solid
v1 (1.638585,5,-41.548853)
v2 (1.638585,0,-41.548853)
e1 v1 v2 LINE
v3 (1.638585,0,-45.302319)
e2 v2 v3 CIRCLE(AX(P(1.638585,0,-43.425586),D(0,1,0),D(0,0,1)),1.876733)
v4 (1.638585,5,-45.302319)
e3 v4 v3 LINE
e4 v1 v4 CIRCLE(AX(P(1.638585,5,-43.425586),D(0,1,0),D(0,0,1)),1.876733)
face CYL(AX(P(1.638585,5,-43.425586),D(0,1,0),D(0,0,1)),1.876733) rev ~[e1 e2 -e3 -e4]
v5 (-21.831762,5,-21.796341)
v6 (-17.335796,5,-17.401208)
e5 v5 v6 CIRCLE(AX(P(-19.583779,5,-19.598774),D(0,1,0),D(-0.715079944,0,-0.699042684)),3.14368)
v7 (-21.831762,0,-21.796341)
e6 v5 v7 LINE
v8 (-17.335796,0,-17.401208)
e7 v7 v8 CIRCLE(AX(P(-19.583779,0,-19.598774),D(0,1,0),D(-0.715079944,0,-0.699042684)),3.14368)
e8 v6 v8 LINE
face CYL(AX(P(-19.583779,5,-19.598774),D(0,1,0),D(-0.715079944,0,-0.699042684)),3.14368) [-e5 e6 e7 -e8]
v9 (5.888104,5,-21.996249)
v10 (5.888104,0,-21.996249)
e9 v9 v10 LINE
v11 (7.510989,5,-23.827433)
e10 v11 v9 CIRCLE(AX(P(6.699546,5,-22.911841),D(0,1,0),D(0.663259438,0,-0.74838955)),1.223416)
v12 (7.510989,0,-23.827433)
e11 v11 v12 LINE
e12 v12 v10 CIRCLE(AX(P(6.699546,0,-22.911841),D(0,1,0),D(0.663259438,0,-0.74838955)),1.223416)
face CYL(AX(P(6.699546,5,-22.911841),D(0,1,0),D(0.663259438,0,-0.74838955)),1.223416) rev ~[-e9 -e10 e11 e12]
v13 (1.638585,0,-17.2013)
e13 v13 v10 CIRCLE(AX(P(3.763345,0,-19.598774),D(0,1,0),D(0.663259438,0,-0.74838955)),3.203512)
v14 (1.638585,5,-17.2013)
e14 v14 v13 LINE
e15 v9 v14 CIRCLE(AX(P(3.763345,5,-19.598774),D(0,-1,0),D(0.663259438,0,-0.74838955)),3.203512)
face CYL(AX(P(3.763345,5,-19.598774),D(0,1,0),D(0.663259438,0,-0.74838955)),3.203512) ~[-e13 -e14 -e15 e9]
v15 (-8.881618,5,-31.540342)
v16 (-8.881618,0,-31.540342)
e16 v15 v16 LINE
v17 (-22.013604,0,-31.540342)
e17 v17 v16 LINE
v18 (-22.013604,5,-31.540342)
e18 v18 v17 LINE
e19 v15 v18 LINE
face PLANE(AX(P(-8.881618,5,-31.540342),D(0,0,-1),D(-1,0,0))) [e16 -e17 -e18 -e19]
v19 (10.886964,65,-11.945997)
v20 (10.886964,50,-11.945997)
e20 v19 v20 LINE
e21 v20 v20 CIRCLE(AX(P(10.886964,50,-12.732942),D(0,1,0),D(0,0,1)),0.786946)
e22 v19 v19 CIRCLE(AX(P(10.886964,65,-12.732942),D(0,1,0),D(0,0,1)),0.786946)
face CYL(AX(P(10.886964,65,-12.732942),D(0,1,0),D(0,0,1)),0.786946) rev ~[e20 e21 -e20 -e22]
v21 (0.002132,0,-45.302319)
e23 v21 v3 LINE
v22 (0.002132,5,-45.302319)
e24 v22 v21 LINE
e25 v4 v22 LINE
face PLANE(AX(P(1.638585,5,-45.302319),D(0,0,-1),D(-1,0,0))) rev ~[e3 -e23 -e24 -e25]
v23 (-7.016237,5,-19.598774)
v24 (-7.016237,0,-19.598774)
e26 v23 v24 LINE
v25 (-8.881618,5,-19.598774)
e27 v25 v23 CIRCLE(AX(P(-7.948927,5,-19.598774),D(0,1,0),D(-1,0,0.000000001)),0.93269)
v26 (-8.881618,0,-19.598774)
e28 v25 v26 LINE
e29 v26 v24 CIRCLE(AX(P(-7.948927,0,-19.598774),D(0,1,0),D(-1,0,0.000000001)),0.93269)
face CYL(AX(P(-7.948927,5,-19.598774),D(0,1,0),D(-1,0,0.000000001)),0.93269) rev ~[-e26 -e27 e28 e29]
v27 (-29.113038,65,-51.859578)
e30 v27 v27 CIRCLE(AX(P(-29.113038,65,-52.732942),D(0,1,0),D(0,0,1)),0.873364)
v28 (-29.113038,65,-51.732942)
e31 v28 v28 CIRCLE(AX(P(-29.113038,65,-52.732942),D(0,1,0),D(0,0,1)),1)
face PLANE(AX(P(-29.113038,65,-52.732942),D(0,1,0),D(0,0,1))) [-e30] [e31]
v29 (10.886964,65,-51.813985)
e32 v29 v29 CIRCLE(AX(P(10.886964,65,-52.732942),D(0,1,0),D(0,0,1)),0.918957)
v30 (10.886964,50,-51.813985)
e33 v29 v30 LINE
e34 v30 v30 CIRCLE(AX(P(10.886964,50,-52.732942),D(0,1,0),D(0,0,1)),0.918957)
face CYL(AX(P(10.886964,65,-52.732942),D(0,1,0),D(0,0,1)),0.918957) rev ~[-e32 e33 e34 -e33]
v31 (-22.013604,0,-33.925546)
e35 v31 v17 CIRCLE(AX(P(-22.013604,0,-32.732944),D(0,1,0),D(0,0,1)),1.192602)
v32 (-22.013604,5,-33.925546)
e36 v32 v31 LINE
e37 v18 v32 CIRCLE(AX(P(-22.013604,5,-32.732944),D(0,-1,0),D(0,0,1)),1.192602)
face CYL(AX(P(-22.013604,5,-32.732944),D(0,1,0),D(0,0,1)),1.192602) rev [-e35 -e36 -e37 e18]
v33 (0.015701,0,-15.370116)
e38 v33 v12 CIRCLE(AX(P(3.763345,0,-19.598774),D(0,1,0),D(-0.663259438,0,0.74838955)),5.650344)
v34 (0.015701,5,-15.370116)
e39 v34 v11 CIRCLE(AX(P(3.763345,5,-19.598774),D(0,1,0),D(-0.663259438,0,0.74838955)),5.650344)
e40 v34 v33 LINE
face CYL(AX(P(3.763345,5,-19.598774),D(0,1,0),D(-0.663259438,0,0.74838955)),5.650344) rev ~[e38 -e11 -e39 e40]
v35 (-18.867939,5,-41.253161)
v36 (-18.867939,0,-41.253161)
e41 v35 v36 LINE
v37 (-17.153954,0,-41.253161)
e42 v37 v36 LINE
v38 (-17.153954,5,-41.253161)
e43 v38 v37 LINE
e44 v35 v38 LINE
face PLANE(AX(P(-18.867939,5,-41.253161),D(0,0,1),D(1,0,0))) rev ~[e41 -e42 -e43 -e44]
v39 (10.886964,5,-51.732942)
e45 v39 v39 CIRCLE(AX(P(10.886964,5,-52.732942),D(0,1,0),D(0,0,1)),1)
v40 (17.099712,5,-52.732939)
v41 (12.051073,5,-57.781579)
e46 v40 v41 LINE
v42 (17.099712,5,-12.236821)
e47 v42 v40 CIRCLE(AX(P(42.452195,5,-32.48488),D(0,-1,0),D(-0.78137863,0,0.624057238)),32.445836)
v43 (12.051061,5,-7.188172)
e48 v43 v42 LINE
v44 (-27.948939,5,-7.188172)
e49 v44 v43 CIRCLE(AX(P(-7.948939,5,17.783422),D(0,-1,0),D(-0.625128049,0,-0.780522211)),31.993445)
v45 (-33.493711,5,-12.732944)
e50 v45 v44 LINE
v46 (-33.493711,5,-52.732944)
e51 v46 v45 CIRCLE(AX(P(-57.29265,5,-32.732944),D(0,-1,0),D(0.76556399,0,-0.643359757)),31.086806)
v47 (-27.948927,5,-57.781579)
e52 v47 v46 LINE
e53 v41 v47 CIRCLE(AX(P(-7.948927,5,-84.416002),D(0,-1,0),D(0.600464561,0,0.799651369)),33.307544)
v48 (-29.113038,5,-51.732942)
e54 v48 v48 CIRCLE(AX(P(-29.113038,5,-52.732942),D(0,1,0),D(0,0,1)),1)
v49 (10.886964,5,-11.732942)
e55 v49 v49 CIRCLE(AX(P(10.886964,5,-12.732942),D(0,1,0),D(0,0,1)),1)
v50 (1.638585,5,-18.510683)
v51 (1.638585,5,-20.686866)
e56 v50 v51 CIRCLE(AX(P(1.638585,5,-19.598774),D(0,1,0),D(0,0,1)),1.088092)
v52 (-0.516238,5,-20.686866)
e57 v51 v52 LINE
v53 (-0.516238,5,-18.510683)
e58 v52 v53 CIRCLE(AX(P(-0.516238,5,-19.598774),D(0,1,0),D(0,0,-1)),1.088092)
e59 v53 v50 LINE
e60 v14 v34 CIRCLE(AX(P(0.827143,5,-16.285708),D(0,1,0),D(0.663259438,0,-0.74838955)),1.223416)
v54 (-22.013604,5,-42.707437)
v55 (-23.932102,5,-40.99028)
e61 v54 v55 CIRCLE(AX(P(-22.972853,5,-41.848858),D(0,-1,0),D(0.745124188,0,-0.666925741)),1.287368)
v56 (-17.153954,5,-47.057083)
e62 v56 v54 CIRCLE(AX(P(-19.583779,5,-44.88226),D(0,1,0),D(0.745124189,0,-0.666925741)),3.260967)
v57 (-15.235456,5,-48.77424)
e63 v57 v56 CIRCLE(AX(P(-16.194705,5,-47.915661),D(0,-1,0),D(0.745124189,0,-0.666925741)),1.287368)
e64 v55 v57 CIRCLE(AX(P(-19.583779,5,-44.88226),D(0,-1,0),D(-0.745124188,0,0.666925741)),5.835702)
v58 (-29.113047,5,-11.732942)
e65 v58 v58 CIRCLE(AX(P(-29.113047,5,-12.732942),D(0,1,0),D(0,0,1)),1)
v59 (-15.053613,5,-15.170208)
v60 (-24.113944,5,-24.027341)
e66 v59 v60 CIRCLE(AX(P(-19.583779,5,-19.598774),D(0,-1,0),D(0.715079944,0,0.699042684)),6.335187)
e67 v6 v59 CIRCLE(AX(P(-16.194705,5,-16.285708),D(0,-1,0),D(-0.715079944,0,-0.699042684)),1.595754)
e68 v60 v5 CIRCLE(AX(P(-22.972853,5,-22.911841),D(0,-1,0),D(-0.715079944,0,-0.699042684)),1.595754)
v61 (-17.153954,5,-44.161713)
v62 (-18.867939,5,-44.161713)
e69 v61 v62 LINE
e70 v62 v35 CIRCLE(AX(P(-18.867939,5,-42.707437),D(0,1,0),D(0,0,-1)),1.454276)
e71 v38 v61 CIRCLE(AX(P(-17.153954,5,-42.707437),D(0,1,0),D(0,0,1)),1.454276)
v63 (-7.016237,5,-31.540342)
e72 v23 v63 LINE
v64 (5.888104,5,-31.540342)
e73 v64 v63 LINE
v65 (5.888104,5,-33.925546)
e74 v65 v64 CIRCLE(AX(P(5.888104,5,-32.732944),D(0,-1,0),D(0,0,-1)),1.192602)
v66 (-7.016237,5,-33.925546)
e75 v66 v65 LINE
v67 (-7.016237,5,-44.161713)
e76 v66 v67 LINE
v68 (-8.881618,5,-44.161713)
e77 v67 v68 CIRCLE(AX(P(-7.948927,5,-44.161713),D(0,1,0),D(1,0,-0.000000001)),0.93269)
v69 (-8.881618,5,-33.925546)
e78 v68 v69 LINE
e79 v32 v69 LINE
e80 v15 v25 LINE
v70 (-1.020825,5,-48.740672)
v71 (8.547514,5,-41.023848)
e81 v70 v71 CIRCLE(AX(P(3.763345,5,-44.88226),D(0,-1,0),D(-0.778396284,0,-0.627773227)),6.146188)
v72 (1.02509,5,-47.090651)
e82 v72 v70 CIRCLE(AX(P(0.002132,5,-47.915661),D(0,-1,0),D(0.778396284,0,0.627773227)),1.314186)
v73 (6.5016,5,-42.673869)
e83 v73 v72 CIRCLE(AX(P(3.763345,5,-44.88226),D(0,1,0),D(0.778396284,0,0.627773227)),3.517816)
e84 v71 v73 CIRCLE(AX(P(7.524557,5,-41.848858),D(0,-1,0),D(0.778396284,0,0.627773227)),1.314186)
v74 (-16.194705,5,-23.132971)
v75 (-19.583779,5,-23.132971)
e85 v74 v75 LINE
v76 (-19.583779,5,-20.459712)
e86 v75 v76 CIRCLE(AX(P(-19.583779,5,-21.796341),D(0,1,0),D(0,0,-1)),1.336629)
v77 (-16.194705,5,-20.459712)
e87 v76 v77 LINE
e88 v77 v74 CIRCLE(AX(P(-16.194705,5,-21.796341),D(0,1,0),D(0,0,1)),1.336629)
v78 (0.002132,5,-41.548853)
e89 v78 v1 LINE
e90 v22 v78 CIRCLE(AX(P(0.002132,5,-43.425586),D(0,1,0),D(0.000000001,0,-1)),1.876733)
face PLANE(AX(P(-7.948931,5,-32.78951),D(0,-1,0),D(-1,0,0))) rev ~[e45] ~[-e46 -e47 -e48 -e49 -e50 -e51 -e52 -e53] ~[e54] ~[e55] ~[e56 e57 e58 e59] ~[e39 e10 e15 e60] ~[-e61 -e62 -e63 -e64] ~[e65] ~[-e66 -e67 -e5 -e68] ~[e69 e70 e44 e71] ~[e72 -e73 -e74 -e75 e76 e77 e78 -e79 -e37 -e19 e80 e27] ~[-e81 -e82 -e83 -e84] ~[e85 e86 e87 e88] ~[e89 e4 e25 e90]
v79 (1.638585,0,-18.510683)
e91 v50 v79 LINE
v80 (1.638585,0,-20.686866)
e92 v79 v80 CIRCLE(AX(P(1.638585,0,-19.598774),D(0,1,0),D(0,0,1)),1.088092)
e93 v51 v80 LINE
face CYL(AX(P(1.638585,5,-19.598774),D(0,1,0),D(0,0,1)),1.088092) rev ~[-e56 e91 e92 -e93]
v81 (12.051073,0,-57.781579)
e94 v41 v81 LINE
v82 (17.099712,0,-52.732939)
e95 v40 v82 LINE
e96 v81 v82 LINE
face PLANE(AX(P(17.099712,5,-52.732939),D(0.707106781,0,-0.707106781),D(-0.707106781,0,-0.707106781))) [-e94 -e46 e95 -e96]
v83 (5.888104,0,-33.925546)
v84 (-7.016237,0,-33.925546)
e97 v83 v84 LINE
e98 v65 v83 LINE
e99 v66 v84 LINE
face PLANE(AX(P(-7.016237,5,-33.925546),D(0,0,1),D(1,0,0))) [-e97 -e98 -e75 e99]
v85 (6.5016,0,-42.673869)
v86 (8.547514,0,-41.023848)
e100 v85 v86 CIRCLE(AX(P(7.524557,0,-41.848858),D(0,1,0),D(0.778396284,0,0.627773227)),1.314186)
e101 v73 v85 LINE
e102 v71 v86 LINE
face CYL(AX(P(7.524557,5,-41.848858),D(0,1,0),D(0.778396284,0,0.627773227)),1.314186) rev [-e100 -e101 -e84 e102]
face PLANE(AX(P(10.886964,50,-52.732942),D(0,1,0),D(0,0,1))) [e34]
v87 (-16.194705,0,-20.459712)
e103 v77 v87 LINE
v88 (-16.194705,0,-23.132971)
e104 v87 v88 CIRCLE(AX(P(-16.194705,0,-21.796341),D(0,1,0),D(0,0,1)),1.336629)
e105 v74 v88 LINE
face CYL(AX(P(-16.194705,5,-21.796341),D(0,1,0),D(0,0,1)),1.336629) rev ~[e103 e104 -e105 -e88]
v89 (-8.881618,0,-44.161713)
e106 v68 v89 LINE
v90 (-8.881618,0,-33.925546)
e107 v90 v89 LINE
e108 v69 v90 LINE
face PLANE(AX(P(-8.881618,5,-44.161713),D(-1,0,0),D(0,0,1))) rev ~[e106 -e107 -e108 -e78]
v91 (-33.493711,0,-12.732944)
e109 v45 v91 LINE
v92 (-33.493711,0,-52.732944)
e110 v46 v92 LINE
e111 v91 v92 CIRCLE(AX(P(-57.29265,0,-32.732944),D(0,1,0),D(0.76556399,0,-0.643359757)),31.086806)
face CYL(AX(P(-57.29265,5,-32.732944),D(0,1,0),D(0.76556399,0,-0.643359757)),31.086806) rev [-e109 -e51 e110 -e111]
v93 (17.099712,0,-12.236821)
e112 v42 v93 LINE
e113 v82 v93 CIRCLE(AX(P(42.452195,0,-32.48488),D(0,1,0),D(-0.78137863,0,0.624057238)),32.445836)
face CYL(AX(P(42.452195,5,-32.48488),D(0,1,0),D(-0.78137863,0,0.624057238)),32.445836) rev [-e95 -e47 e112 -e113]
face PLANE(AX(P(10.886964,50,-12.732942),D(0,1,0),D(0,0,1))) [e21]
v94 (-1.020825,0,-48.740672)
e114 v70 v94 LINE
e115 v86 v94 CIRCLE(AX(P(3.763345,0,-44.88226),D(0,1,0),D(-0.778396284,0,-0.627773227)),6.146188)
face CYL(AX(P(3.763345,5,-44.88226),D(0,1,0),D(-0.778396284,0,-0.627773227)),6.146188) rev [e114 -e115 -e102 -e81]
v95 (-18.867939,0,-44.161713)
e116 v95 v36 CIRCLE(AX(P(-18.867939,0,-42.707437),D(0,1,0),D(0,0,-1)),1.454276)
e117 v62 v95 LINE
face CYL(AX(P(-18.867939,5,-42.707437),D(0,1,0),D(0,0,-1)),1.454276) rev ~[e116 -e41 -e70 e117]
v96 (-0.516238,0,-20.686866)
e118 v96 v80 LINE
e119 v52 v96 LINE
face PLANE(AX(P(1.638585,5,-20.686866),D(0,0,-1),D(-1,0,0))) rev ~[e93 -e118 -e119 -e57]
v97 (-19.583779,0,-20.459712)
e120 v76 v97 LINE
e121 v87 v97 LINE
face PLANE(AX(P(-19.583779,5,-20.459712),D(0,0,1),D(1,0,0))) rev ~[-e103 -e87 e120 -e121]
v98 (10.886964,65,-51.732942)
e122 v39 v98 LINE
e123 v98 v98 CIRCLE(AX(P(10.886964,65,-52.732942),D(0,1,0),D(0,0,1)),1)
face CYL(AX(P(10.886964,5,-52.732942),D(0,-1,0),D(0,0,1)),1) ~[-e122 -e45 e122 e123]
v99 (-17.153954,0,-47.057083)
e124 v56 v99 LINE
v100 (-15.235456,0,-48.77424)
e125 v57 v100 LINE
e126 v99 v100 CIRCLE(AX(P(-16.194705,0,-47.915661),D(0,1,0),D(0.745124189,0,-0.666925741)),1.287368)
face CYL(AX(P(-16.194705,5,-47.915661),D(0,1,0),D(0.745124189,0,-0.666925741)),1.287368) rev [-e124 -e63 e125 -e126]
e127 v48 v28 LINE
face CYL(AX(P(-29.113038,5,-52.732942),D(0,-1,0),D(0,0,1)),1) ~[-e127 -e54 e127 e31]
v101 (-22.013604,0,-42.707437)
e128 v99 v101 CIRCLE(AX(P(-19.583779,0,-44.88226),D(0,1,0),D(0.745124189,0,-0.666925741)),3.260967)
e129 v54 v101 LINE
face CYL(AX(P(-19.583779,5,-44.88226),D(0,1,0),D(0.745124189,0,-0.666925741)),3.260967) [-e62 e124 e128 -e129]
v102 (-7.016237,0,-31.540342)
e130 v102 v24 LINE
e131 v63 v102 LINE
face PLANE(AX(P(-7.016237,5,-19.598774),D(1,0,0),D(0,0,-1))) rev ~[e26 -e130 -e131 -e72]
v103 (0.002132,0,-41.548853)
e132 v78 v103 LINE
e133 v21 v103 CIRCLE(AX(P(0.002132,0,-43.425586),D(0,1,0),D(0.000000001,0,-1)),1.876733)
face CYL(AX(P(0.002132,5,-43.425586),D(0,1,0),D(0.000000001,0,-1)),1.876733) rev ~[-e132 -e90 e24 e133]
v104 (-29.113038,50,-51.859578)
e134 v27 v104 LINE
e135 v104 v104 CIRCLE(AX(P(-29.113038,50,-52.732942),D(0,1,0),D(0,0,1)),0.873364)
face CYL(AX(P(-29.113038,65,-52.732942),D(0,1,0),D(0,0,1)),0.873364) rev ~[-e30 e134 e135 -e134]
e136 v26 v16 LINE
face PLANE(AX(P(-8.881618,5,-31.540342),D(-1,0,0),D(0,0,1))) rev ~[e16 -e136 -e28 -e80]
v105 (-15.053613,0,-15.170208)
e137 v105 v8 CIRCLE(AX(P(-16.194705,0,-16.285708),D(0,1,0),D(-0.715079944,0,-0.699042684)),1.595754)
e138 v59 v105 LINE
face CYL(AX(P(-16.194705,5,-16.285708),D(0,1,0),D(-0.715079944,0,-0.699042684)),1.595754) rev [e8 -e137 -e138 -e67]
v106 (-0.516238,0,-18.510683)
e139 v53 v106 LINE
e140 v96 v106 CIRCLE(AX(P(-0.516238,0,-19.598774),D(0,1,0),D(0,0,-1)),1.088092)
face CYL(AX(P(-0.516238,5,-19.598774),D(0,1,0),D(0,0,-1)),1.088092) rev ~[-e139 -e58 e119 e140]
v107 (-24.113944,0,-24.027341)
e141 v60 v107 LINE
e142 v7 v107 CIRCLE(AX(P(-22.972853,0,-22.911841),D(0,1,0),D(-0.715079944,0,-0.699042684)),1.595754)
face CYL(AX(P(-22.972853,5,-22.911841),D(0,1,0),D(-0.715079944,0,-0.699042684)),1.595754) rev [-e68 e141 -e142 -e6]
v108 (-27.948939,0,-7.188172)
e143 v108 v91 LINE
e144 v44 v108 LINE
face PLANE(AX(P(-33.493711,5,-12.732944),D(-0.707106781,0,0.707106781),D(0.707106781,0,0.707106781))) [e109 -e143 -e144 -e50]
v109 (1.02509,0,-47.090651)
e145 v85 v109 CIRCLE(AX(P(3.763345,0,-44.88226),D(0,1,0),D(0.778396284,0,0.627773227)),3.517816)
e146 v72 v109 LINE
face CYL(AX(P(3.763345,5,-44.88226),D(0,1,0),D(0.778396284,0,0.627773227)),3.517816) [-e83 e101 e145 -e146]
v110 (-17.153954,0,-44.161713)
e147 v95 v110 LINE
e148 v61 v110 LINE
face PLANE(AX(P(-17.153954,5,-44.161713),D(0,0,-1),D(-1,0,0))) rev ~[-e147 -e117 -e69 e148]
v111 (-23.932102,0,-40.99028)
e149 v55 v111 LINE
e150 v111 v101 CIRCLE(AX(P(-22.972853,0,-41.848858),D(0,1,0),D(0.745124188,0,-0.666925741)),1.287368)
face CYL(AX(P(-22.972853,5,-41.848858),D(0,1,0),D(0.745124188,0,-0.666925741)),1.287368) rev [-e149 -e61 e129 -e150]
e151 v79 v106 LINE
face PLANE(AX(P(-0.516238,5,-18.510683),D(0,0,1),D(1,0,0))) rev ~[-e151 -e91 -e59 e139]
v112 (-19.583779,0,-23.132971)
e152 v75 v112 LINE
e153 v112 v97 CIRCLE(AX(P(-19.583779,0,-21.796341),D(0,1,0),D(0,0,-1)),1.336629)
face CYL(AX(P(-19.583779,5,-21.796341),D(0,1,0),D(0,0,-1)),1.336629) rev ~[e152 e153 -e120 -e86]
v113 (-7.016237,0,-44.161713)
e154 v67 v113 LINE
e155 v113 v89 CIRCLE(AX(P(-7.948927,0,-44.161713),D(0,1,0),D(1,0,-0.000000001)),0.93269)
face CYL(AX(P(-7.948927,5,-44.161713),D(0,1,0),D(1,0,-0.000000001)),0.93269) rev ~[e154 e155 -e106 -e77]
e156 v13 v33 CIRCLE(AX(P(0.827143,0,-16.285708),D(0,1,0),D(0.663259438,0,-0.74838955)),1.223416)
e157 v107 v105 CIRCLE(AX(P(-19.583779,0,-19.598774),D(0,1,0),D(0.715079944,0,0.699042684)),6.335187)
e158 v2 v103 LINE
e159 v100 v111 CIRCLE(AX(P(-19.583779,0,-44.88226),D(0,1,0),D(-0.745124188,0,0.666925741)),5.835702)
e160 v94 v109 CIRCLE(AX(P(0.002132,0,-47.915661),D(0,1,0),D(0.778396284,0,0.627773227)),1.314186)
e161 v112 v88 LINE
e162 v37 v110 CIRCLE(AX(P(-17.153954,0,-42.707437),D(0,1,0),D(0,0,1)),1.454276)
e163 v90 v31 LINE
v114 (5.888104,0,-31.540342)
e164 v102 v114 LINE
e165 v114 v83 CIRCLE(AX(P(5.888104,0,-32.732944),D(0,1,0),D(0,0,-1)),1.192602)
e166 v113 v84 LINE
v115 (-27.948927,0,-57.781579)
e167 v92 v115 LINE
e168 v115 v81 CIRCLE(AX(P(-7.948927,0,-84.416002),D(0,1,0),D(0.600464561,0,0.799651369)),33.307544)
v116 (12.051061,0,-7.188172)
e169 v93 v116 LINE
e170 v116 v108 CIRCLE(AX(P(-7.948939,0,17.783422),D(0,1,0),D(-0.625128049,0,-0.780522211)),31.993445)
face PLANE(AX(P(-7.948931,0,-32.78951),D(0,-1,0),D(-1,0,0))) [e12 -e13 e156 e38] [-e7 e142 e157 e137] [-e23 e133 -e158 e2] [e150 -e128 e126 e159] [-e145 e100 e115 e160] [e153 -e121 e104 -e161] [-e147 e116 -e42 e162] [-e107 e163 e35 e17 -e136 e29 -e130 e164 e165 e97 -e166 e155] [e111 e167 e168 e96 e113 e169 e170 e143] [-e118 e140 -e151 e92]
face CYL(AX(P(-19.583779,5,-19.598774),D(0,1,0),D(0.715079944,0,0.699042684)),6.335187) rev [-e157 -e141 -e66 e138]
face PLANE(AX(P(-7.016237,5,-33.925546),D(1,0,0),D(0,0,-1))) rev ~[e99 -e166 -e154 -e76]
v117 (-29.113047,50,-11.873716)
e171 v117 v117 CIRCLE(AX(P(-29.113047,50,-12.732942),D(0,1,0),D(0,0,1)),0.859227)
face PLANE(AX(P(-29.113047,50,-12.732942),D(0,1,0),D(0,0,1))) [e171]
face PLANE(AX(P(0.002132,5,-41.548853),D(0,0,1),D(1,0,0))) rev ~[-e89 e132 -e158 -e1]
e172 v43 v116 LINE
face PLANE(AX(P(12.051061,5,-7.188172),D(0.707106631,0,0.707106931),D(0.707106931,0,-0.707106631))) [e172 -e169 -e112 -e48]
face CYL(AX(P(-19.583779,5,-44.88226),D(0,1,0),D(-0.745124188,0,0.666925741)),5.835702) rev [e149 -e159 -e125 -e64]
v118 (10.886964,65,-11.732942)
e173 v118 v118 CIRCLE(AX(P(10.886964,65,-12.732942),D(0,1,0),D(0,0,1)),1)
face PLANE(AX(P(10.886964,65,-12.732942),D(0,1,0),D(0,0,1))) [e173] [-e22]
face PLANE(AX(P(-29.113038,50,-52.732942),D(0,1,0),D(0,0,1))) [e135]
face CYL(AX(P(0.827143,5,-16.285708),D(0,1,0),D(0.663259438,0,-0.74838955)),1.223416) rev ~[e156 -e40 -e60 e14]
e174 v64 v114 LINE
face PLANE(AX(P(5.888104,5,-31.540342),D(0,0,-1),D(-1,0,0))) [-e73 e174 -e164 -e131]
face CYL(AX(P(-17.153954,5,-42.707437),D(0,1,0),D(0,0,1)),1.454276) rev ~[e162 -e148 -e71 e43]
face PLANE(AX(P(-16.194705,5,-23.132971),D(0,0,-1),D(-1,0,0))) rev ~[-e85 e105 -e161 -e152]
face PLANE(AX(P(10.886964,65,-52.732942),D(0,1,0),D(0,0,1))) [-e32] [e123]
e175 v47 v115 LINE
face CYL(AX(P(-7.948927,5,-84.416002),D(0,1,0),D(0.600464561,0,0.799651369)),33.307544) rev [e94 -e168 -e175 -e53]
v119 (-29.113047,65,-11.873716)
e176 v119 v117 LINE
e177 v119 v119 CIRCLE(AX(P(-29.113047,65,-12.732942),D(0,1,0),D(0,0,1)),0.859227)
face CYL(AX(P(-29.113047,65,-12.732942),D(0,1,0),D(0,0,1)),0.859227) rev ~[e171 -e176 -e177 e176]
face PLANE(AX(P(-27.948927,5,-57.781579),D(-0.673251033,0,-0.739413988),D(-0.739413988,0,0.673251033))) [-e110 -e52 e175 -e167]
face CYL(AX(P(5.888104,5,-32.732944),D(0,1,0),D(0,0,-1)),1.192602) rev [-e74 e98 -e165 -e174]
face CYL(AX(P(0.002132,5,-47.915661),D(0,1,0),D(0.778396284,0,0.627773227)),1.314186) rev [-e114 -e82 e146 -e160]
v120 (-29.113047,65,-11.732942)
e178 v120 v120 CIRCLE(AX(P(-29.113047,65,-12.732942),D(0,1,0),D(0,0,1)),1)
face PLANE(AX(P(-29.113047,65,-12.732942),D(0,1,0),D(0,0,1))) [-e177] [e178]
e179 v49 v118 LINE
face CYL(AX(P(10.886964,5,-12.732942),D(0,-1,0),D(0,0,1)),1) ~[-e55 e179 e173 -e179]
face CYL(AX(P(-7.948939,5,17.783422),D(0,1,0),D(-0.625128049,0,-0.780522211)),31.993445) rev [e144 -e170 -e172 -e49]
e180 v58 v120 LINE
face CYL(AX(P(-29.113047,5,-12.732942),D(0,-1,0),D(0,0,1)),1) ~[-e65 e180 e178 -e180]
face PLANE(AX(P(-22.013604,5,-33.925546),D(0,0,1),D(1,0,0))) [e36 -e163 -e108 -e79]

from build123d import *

# Parameters (mm, degrees)
BOSS_EXTRUDE1_DEPTH = 5
CUT_EXTRUDE1_DEPTH  = 15
CUT_EXTRUDE4_DEPTH  = 15
SKETCH7_R           = 1
BOSS_EXTRUDE2_DEPTH = 60
SKETCH8_R           = 0.873363885
CUT_EXTRUDE5_DEPTH  = 15
SKETCH9_R           = 0.918957051
CUT_EXTRUDE6_DEPTH  = 15
SKETCH10_R          = 0.859226697
CUT_EXTRUDE7_DEPTH  = 15
SKETCH11_R          = 0.786945752
CUT_EXTRUDE8_DEPTH  = 15


with BuildPart() as part:
    # Sketch1 → Boss-Extrude1 (new body)
    with BuildSketch(Plane(origin=(0, 0, 0), x_dir=(1, 0, 0), z_dir=(0, 1, 0))):
        with BuildLine():
            Line((-35.448928743, 52.732943935), (-27.948927155, 60.232942347))
            ThreePointArc((-27.948927155, 60.232942347), (-7.948927155, 52.732942347), (12.051072845, 60.232942347))
            Line((12.051072845, 60.232942347), (19.551072845, 52.732939171))
            ThreePointArc((19.551072845, 52.732939171), (12.051076647, 32.732945116), (19.551072845, 12.73295106))
            Line((19.551072845, 12.73295106), (12.051060957, 5.232942347))
            ThreePointArc((12.051060957, 5.232942347), (5.043506988, 9.818456658), (-2.948938922, 12.319169055))
            ThreePointArc((-2.948938922, 12.319169055), (-7.948938922, 12.848178709), (-12.948938922, 12.319169055))
            ThreePointArc((-12.948938922, 12.319169055), (-20.941384832, 9.818456658), (-27.9489388, 5.232942347))
            Line((-27.9489388, 5.232942347), (-35.448937212, 12.732943935))
            ThreePointArc((-35.448937212, 12.732943935), (-27.948932978, 32.732942347), (-35.448928743, 52.732943935))
        make_face()
    extrude(amount=BOSS_EXTRUDE1_DEPTH)

    # Sketch3 → Cut-Extrude1 (cut)
    with BuildSketch(Plane(origin=(0, 5, 0), x_dir=(1, 0, 0), z_dir=(0, 1, 0))):
        with BuildLine():
            Line((-27.948927155, 60.232942347), (-35.448928743, 52.732943935))
            ThreePointArc((-35.448928743, 52.732943935), (-27.948932978, 32.732942347), (-35.448937212, 12.732943935))
            Line((-35.448937212, 12.732943935), (-27.9489388, 5.232942347))
            ThreePointArc((-27.9489388, 5.232942347), (-7.948938922, 12.848178709), (12.051060957, 5.232942347))
            Line((12.051060957, 5.232942347), (19.551072845, 12.73295106))
            ThreePointArc((19.551072845, 12.73295106), (12.051076647, 32.732945116), (19.551072845, 52.732939171))
            Line((19.551072845, 52.732939171), (12.051072845, 60.232942347))
            ThreePointArc((12.051072845, 60.232942347), (-7.948927155, 52.732942347), (-27.948927155, 60.232942347))
        make_face()
        with BuildLine():
            Line((-33.493710626, 12.732943935), (-27.9489388, 7.18817211))
            ThreePointArc((-27.9489388, 7.18817211), (-7.948938922, 14.210022681), (12.051060957, 7.18817211))
            Line((12.051060957, 7.18817211), (17.099712422, 12.236821437))
            ThreePointArc((17.099712422, 12.236821437), (10.006359282, 32.484880304), (17.099712422, 52.732939171))
            Line((17.099712422, 52.732939171), (12.051072845, 57.781578748))
            ThreePointArc((12.051072845, 57.781578748), (-7.948927155, 51.108457819), (-27.948927155, 57.781578748))
            Line((-27.948927155, 57.781578748), (-33.493710626, 52.732943935))
            ThreePointArc((-33.493710626, 52.732943935), (-26.205843846, 32.732943935), (-33.493710626, 12.732943935))
        make_face(mode=Mode.SUBTRACT)
    extrude(amount=-CUT_EXTRUDE1_DEPTH, mode=Mode.SUBTRACT)


with BuildPart() as cut_extrude1_kept_piece:
    # of the separate pieces the step leaves, the one the design keeps (cut_extrude1_pieces_kept)
    add(part.part.solids().sort_by_distance((-27.9489388, 0, -7.18817211))[0])

    # Sketch4 → Cut-Extrude4 (cut)
    with BuildSketch(Plane(origin=(0, 5, 0), x_dir=(1, 0, 0), z_dir=(0, 1, 0))):
        with BuildLine():
            Line((-19.583778872, 20.459711597), (-16.194704715, 20.459711597))
            ThreePointArc((-16.194704715, 20.459711597), (-14.85807522, 21.796341092), (-16.194704715, 23.132970587))
            Line((-16.194704715, 23.132970587), (-19.583778872, 23.132970587))
            ThreePointArc((-19.583778872, 23.132970587), (-20.920408367, 21.796341092), (-19.583778872, 20.459711597))
        make_face()
        with BuildLine():
            ThreePointArc((-21.831761669, 21.796341092), (-21.78134565, 17.350791516), (-17.335796074, 17.401207535))
            ThreePointArc((-17.335796074, 17.401207535), (-15.079204869, 17.426799049), (-15.053613355, 15.170207843))
            ThreePointArc((-15.053613355, 15.170207843), (-24.012345341, 15.068608797), (-24.113944388, 24.027340783))
            ThreePointArc((-24.113944388, 24.027340783), (-21.857353183, 24.052932297), (-21.831761669, 21.796341092))
        make_face()
        with BuildLine():
            ThreePointArc((-17.153953535, 47.057082623), (-21.758601657, 47.312085175), (-22.013604209, 42.707437053))
            ThreePointArc((-22.013604209, 42.707437053), (-22.114274365, 40.88960957), (-23.932101848, 40.990279726))
            ThreePointArc((-23.932101848, 40.990279726), (-23.475758984, 49.230582815), (-15.235455895, 48.77423995))
            ThreePointArc((-15.235455895, 48.77423995), (-15.336126051, 46.956412467), (-17.153953535, 47.057082623))
        make_face()
        with BuildLine():
            ThreePointArc((-18.867938752, 44.161713483), (-20.322215182, 42.707437053), (-18.867938752, 41.253160623))
            Line((-18.867938752, 41.253160623), (-17.153953535, 41.253160623))
            ThreePointArc((-17.153953535, 41.253160623), (-15.699677105, 42.707437053), (-17.153953535, 44.161713483))
            Line((-17.153953535, 44.161713483), (-18.867938752, 44.161713483))
        make_face()
        with BuildLine():
            Line((-8.881617516, 44.161713483), (-8.881617516, 19.598774313))
            ThreePointArc((-8.881617516, 19.598774313), (-7.948927155, 18.666083952), (-7.016236793, 19.598774313))
            Line((-7.016236793, 19.598774313), (-7.016236793, 44.161713483))
            ThreePointArc((-7.016236793, 44.161713483), (-7.948927155, 45.094403844), (-8.881617516, 44.161713483))
        make_face()
        with BuildLine():
            Line((-22.013604209, 33.925546285), (5.888104042, 33.925546285))
            ThreePointArc((5.888104042, 33.925546285), (7.080706392, 32.732943935), (5.888104042, 31.540341586))
            Line((5.888104042, 31.540341586), (-22.013604209, 31.540341586))
            ThreePointArc((-22.013604209, 31.540341586), (-23.206206558, 32.732943935), (-22.013604209, 33.925546285))
        make_face()
        with BuildLine():
            ThreePointArc((6.501599793, 42.67386899), (5.971735558, 47.620514921), (1.025089628, 47.090650686))
            ThreePointArc((1.025089628, 47.090650686), (-0.822878242, 46.892704018), (-1.02082491, 48.740671887))
            ThreePointArc((-1.02082491, 48.740671887), (7.621756759, 49.666429458), (8.54751433, 41.023847789))
            ThreePointArc((8.54751433, 41.023847789), (6.699546461, 40.825901121), (6.501599793, 42.67386899))
        make_face()
        with BuildLine():
            ThreePointArc((1.638585378, 41.548852695), (3.515318655, 43.425585972), (1.638585378, 45.302319249))
            Line((1.638585378, 45.302319249), (0.002132359, 45.302319249))
            ThreePointArc((0.002132359, 45.302319249), (-1.874600919, 43.425585972), (0.002132359, 41.548852695))
            Line((0.002132359, 41.548852695), (1.638585378, 41.548852695))
        make_face()
        with BuildLine():
            ThreePointArc((7.510988879, 23.827432924), (5.783954474, 23.723283356), (5.888104042, 21.996248951))
            ThreePointArc((5.888104042, 21.996248951), (6.160819348, 17.474014981), (1.638585378, 17.201299676))
            ThreePointArc((1.638585378, 17.201299676), (-0.088449027, 17.097150108), (0.015700541, 15.370115703))
            ThreePointArc((0.015700541, 15.370115703), (7.992003321, 15.851130144), (7.510988879, 23.827432924))
        make_face()
        with BuildLine():
            ThreePointArc((1.638585378, 18.510682614), (2.726677077, 19.598774313), (1.638585378, 20.686866012))
            Line((1.638585378, 20.686866012), (-0.516238104, 20.686866012))
            ThreePointArc((-0.516238104, 20.686866012), (-1.604329803, 19.598774313), (-0.516238104, 18.510682614))
            Line((-0.516238104, 18.510682614), (1.638585378, 18.510682614))
        make_face()
    extrude(amount=-CUT_EXTRUDE4_DEPTH, mode=Mode.SUBTRACT)

    # Sketch7 → Boss-Extrude2 (add)
    with BuildSketch(Plane(origin=(0, 5, 0), x_dir=(1, 0, 0), z_dir=(0, 1, 0))):
        with Locations(Location((-29.113038054, 52.732942347, 0), (0, 0, 270))):
            Circle(SKETCH7_R)
        with Locations(Location((10.886963534, 52.732942347, 0), (0, 0, 270))):
            Circle(SKETCH7_R)
        with Locations(Location((10.886963534, 12.732942347, 0), (0, 0, 270))):
            Circle(SKETCH7_R)
        with Locations(Location((-29.113046524, 12.732942347, 0), (0, 0, 270))):
            Circle(SKETCH7_R)
    extrude(amount=BOSS_EXTRUDE2_DEPTH)

    # Sketch8 → Cut-Extrude5 (cut)
    with BuildSketch(Plane(origin=(0, 65, 0), x_dir=(1, 0, 0), z_dir=(0, 1, 0))):
        with Locations(Location((-29.113038054, 52.732942347, 0), (0, 0, 270))):
            Circle(SKETCH8_R)
    extrude(amount=-CUT_EXTRUDE5_DEPTH, mode=Mode.SUBTRACT)

    # Sketch9 → Cut-Extrude6 (cut)
    with BuildSketch(Plane(origin=(0, 65, 0), x_dir=(1, 0, 0), z_dir=(0, 1, 0))):
        with Locations(Location((10.886963534, 52.732942347, 0), (0, 0, 270))):
            Circle(SKETCH9_R)
    extrude(amount=-CUT_EXTRUDE6_DEPTH, mode=Mode.SUBTRACT)

    # Sketch10 → Cut-Extrude7 (cut)
    with BuildSketch(Plane(origin=(0, 65, 0), x_dir=(1, 0, 0), z_dir=(0, 1, 0))):
        with Locations(Location((-29.113046524, 12.732942347, 0), (0, 0, 270))):
            Circle(SKETCH10_R)
    extrude(amount=-CUT_EXTRUDE7_DEPTH, mode=Mode.SUBTRACT)

    # Sketch11 → Cut-Extrude8 (cut)
    with BuildSketch(Plane(origin=(0, 65, 0), x_dir=(1, 0, 0), z_dir=(0, 1, 0))):
        with Locations(Location((10.886963534, 12.732942347, 0), (0, 0, 270))):
            Circle(SKETCH11_R)
    extrude(amount=-CUT_EXTRUDE8_DEPTH, mode=Mode.SUBTRACT)


solid = cut_extrude1_kept_piece.part
